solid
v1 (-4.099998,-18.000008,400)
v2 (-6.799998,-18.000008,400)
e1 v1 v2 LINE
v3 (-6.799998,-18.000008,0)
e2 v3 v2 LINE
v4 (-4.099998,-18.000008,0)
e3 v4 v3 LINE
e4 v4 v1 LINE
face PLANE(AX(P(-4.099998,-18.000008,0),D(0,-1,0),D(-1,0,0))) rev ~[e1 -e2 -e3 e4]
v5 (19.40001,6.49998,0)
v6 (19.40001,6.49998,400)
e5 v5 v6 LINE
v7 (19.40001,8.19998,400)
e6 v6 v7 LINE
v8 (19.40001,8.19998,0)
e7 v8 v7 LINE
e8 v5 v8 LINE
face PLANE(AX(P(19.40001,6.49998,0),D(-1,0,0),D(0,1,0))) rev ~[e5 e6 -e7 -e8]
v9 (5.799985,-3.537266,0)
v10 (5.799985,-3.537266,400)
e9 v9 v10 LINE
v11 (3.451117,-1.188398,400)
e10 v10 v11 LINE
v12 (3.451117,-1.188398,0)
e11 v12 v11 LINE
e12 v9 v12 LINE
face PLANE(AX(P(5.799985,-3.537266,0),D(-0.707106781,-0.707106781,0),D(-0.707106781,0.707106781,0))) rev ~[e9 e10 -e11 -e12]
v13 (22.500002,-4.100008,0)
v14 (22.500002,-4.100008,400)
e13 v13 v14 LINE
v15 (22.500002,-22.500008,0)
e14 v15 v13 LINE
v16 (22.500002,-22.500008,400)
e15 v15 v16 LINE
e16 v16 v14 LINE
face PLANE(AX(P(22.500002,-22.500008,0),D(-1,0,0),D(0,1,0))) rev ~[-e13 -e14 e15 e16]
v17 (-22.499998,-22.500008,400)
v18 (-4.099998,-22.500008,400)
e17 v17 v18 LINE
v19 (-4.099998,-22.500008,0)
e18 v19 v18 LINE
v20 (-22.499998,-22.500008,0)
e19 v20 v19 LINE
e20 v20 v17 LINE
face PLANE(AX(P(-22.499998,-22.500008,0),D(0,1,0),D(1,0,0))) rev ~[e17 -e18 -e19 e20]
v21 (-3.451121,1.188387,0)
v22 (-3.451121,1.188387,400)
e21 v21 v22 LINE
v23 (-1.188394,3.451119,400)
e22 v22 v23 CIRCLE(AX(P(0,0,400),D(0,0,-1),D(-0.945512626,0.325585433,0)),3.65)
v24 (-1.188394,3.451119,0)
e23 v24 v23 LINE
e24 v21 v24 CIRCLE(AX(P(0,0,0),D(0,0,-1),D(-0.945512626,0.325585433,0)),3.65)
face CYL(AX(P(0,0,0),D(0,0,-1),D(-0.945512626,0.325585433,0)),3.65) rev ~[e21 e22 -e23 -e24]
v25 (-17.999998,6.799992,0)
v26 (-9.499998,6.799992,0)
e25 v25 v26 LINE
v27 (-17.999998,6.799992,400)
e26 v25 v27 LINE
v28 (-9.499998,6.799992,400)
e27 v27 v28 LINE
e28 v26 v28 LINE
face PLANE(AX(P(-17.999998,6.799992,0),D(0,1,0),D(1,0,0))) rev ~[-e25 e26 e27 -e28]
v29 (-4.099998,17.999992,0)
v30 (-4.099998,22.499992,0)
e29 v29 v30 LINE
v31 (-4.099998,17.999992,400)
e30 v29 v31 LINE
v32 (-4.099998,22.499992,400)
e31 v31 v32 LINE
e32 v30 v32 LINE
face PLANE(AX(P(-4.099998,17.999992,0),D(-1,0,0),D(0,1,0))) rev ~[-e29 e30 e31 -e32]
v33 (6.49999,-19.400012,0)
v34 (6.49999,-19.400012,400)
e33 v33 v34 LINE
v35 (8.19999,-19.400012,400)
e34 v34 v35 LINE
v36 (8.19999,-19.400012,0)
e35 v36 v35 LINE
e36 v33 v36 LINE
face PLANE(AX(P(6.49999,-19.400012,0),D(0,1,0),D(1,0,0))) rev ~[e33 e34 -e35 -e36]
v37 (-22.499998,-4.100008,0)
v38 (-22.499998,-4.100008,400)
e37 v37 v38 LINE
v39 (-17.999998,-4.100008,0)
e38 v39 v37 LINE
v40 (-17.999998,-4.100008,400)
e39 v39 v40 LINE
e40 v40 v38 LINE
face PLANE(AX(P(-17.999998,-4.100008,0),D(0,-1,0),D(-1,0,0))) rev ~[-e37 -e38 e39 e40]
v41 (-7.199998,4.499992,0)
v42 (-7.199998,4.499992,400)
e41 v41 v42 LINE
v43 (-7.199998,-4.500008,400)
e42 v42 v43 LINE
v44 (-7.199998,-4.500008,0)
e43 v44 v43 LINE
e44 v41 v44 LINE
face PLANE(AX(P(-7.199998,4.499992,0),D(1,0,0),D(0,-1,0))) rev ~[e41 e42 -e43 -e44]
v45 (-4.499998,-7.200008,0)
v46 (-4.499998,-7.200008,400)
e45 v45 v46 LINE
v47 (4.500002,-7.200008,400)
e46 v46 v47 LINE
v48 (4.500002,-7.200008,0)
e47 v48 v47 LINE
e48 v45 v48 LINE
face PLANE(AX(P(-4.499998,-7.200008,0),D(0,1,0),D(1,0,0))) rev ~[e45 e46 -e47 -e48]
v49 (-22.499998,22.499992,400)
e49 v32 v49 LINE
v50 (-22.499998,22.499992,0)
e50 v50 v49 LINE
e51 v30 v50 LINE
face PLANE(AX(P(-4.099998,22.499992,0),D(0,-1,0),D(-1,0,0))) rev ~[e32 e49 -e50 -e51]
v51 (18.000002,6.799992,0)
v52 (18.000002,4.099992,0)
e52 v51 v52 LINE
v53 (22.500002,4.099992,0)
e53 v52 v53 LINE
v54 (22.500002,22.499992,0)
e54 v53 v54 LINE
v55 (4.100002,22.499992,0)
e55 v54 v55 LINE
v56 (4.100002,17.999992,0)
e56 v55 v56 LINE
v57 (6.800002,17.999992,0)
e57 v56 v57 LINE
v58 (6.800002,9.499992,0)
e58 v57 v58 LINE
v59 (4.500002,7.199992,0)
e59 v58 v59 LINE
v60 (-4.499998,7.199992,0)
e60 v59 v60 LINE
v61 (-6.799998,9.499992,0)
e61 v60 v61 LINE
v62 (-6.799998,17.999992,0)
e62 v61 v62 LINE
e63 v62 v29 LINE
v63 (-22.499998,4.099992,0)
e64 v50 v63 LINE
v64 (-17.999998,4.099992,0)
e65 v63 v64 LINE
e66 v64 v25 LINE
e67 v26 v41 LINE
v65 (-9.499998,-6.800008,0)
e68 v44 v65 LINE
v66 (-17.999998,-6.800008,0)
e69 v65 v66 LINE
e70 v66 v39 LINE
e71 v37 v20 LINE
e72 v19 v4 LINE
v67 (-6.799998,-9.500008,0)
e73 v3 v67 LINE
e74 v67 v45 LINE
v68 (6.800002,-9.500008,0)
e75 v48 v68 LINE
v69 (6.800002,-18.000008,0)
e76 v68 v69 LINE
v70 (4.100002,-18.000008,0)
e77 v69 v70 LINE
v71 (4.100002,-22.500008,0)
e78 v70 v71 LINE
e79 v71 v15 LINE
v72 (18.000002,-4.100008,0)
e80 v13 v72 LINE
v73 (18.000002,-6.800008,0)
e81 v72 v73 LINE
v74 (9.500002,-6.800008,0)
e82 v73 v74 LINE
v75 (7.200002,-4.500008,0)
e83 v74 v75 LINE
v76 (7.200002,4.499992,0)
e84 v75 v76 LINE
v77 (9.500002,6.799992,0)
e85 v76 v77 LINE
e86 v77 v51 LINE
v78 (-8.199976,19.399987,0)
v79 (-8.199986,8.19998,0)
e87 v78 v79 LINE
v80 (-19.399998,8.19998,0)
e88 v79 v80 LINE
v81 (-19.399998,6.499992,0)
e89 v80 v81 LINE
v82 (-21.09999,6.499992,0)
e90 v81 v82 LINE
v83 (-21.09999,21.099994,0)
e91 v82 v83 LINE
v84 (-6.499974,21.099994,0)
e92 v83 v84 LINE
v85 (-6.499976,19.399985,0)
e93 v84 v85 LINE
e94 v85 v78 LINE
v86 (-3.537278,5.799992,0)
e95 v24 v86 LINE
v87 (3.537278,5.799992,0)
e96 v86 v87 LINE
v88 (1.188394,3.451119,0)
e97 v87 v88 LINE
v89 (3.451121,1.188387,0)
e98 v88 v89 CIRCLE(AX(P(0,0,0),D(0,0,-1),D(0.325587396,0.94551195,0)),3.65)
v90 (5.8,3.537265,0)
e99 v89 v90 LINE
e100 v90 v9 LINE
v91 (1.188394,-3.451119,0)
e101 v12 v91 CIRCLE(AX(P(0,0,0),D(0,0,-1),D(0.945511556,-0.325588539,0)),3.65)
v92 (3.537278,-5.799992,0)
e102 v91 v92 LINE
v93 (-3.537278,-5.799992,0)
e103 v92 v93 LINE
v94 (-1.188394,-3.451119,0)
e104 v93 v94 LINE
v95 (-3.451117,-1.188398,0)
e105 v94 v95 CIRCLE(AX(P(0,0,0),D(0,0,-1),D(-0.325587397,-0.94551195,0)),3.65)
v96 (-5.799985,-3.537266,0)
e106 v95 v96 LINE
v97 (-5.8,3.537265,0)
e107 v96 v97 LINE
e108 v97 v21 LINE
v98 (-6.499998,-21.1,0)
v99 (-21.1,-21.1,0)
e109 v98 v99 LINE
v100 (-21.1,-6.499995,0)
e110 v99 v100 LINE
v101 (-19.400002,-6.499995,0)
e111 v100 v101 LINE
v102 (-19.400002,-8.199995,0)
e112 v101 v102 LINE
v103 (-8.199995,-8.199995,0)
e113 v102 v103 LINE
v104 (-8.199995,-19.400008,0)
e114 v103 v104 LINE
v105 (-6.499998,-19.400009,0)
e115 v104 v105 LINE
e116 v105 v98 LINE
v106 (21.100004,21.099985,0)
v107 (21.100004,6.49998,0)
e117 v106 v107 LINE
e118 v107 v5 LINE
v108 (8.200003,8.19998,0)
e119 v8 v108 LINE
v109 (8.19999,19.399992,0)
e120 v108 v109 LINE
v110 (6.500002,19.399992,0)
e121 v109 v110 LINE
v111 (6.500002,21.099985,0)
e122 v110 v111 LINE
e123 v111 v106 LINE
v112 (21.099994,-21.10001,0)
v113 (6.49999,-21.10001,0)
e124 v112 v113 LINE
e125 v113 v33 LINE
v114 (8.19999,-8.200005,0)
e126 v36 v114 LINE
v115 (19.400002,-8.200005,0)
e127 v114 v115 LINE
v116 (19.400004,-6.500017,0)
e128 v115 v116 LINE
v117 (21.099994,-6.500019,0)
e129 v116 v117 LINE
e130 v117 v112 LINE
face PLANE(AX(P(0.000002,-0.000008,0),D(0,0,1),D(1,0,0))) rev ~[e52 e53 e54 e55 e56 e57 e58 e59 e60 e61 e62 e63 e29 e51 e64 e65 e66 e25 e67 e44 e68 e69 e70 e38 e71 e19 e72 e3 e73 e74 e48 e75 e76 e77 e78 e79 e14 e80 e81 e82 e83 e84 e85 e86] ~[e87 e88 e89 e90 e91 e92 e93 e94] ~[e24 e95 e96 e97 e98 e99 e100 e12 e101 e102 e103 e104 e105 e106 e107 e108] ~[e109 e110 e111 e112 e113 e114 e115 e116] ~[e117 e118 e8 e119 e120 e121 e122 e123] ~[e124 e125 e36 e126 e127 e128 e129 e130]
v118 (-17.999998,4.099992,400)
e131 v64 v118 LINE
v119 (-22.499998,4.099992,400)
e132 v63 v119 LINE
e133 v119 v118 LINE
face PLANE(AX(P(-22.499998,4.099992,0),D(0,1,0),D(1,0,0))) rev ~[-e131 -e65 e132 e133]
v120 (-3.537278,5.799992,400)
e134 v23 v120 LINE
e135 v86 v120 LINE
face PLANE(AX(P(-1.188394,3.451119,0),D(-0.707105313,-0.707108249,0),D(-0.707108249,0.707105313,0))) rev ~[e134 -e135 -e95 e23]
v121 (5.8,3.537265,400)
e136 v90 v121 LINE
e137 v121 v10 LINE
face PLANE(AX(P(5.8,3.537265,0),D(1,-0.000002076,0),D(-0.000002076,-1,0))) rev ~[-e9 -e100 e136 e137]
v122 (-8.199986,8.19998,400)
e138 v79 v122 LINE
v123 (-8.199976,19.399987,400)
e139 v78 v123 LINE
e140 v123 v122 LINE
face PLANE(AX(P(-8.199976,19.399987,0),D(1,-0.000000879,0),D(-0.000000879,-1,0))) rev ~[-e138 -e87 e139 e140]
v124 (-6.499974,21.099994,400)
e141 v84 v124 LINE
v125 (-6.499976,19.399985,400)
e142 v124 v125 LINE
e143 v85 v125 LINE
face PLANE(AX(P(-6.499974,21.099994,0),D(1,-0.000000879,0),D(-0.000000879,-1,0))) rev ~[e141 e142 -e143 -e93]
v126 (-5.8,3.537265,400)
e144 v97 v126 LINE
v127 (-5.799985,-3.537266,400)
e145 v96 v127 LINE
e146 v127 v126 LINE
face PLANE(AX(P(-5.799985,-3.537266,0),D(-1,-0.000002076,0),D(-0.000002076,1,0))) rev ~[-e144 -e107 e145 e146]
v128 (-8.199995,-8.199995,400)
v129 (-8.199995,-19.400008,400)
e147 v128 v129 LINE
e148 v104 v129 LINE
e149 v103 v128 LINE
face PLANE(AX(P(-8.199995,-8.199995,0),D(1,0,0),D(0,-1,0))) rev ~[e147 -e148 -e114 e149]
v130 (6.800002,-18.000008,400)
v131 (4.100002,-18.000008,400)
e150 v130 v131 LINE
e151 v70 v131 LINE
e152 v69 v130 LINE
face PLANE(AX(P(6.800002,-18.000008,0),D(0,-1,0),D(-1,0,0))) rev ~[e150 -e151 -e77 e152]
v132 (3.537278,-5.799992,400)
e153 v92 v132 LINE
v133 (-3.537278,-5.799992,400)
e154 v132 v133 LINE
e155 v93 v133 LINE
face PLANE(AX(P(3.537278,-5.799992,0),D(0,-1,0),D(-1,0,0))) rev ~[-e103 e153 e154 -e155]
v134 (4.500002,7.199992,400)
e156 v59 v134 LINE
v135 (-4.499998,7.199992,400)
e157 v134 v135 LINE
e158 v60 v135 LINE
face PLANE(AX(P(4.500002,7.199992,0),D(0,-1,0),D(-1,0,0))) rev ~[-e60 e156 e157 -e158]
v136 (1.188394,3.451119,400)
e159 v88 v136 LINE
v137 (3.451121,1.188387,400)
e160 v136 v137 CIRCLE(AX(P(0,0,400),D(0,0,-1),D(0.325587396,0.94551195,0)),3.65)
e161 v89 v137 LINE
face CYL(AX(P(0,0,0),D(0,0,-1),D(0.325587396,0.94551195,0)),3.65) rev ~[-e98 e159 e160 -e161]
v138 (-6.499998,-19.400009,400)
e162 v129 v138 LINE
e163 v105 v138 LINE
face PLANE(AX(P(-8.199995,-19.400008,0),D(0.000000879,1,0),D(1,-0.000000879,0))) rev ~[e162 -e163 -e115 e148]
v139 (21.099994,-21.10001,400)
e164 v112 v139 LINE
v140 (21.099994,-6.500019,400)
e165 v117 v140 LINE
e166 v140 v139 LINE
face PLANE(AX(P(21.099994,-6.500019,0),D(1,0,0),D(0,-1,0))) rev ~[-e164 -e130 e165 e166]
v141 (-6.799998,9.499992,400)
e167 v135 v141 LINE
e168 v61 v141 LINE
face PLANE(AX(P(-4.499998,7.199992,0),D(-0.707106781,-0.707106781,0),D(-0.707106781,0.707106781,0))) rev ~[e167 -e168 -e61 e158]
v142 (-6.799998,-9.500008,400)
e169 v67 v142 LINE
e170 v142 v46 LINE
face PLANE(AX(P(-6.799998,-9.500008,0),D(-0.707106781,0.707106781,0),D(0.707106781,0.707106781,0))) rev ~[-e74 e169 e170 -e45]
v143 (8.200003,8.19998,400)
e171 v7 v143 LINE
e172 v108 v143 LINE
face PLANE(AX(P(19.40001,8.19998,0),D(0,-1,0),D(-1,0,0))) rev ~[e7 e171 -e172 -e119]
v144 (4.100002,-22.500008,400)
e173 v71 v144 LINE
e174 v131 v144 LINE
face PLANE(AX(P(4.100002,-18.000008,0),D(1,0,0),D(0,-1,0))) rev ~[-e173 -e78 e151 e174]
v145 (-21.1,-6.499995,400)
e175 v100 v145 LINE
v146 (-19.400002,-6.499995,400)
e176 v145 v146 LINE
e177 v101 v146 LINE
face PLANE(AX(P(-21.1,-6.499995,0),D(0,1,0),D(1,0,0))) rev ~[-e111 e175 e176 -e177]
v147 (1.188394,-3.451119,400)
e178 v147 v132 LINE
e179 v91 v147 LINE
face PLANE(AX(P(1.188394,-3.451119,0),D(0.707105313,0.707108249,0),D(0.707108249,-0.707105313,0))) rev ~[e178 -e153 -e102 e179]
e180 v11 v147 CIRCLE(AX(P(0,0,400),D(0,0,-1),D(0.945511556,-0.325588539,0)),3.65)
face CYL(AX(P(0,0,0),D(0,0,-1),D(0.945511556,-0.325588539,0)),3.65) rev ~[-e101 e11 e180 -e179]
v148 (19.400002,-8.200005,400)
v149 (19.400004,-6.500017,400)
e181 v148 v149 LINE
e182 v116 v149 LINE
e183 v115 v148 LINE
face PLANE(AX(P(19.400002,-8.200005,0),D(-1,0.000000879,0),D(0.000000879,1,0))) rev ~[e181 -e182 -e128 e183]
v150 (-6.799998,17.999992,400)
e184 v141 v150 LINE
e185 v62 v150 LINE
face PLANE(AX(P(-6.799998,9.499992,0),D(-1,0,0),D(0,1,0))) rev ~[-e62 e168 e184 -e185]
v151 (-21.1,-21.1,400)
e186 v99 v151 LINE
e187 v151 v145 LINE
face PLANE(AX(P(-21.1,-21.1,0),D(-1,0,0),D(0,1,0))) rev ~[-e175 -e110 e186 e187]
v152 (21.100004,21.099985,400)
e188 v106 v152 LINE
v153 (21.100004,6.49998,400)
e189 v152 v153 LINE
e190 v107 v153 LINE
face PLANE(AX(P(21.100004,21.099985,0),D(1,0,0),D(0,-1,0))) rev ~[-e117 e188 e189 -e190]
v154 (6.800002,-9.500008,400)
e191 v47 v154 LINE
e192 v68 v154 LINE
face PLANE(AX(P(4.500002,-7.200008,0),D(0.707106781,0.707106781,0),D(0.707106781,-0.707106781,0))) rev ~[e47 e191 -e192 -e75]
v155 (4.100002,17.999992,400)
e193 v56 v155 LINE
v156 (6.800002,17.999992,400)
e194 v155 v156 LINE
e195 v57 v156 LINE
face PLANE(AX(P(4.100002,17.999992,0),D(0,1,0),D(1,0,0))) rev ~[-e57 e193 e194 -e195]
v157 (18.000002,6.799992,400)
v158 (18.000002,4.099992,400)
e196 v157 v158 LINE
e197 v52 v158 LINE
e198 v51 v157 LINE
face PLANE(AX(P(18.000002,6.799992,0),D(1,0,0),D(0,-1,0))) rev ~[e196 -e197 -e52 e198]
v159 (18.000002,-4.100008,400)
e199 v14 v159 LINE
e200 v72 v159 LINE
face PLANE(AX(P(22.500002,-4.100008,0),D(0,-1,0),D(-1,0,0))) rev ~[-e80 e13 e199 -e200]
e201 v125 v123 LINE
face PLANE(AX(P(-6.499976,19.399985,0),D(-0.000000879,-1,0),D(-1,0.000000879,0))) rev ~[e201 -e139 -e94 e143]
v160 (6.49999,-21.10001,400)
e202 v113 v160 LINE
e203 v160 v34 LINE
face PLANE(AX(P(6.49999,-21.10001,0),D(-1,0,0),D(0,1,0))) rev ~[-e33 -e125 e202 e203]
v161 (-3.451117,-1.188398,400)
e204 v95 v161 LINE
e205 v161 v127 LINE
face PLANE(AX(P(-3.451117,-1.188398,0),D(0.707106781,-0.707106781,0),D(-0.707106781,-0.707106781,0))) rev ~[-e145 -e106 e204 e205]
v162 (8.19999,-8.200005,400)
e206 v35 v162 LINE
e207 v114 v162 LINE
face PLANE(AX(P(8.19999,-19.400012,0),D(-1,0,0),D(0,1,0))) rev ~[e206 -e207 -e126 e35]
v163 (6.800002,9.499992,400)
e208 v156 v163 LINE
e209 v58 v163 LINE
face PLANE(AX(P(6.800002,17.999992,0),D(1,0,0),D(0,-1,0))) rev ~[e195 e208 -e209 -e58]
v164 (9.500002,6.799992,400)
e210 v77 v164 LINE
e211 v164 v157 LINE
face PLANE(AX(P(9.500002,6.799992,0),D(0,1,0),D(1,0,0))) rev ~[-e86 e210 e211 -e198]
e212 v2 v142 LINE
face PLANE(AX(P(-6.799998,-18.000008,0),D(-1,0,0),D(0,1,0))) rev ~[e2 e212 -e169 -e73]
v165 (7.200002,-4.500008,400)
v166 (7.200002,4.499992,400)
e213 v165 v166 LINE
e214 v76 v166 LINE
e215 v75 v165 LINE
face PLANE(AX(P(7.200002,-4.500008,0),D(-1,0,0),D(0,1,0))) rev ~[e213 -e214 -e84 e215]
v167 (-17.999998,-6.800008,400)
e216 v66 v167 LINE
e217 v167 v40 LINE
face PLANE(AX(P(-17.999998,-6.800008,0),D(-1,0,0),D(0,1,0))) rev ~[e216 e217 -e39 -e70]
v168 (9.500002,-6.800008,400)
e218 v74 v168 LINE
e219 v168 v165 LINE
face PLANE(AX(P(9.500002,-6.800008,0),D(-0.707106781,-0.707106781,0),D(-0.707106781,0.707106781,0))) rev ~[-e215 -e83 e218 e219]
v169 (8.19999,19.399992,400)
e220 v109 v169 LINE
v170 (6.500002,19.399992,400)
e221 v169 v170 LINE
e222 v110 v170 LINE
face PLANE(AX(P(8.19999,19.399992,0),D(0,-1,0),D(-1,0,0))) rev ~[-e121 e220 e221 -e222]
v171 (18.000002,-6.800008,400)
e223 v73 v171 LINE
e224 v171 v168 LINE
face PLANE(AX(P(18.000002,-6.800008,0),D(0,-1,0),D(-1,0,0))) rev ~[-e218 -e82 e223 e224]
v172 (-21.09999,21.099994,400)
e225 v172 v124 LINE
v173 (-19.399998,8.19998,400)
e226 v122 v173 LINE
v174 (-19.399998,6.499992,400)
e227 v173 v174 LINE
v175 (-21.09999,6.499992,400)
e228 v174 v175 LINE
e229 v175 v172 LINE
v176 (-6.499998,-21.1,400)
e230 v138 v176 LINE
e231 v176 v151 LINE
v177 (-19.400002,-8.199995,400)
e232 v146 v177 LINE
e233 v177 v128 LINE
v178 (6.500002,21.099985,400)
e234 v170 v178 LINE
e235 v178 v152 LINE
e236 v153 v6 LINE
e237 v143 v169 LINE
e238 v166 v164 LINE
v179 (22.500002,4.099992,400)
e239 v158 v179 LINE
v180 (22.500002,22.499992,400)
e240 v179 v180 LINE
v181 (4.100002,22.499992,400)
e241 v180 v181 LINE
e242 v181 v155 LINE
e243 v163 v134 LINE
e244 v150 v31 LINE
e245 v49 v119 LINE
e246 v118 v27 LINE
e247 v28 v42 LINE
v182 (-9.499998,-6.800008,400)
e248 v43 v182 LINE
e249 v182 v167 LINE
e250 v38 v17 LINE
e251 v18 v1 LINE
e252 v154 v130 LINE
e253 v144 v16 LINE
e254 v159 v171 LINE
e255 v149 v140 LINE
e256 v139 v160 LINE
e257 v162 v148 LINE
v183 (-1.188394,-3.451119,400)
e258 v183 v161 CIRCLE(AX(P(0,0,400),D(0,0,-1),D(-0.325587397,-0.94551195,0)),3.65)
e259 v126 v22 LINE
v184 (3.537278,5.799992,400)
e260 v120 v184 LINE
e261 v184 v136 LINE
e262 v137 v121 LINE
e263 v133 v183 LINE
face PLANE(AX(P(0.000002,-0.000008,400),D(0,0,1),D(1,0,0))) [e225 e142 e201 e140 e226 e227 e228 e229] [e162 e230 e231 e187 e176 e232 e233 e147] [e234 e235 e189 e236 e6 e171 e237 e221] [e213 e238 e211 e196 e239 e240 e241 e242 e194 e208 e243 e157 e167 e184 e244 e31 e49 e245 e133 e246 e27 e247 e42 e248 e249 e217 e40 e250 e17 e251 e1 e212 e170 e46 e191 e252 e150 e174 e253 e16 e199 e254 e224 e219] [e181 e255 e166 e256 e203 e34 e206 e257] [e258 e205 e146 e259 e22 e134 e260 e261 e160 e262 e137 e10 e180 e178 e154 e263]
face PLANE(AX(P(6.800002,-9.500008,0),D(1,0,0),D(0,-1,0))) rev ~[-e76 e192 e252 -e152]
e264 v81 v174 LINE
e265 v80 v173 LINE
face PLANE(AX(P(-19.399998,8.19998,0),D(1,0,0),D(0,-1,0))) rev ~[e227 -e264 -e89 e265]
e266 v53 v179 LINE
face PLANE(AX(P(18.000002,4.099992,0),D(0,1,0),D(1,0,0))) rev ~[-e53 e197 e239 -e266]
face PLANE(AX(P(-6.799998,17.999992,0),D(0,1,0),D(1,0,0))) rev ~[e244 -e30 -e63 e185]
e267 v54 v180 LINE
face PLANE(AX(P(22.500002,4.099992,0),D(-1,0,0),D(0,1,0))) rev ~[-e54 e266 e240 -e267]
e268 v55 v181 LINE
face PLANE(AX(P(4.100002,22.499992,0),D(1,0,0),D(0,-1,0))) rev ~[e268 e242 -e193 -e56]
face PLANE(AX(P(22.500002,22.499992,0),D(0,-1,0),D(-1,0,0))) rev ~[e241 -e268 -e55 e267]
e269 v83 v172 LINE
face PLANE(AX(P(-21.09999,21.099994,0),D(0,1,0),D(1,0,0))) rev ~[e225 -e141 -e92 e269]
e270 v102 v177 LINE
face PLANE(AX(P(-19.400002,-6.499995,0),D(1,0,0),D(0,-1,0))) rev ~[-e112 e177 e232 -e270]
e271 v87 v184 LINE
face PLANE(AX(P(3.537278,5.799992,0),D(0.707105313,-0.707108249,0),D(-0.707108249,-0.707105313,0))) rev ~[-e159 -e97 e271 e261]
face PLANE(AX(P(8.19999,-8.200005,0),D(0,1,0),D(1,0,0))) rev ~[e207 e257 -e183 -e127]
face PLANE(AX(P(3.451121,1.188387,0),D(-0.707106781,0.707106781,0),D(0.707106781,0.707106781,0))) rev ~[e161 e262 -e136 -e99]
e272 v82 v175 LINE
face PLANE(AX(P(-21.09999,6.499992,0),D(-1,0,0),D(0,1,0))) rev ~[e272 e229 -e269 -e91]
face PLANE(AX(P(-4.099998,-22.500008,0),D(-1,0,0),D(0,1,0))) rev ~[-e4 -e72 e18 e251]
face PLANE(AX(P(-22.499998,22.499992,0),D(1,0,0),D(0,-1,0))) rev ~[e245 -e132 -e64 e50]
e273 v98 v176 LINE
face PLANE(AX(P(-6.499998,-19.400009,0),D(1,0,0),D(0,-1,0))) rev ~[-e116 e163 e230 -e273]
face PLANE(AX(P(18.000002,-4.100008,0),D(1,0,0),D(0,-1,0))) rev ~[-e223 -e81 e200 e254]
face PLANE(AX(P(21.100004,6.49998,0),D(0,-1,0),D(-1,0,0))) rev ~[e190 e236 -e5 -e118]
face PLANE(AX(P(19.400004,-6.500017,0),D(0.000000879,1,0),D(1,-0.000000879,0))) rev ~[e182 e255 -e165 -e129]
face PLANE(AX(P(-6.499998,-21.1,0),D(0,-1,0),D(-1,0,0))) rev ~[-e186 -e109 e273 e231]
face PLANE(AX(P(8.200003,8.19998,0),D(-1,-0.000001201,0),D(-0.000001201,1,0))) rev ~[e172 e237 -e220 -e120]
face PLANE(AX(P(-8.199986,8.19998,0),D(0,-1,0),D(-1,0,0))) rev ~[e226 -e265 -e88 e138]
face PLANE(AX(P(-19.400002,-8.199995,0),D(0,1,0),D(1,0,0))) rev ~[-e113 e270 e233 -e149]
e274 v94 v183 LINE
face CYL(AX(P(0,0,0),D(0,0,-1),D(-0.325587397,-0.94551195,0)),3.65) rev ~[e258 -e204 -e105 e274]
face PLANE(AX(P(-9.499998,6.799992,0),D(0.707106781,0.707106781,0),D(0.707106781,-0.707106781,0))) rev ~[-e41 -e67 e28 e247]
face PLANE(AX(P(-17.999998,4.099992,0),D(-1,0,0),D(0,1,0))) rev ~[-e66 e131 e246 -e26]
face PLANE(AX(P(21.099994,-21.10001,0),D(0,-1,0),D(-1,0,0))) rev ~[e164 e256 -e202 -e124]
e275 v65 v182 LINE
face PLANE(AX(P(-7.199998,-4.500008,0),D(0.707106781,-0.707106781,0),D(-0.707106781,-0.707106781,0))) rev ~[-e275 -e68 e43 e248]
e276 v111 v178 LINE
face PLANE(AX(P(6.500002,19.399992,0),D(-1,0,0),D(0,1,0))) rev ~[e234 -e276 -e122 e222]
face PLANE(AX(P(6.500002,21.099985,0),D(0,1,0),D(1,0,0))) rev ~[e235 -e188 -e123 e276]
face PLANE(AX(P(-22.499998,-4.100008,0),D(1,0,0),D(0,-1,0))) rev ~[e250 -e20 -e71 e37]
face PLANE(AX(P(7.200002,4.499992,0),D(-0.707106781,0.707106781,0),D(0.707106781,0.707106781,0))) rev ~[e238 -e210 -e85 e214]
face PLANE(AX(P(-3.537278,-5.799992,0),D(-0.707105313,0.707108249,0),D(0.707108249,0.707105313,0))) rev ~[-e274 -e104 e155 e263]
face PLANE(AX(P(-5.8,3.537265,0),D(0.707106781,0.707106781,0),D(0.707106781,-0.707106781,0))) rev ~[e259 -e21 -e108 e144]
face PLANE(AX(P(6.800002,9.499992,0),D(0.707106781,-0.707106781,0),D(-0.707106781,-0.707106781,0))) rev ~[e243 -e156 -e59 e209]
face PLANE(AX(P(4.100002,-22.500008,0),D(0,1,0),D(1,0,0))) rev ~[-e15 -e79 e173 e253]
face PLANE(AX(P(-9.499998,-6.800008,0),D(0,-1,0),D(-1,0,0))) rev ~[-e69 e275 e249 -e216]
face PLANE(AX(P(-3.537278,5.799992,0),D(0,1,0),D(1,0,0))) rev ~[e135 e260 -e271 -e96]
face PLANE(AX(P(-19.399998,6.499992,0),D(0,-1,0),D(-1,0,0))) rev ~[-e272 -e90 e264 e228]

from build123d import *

# Parameters (mm, degrees)
BOSS_EXTRUDE1_DEPTH = 400


with BuildPart() as part:
    # Sketch1 → Boss-Extrude1 (new body)
    with BuildSketch(Plane.XY):
        Polygon((-22.499997904, -22.500007621), (-4.099997904, -22.500007621), (-4.099997904, -18.000007621), (-6.799997904, -18.000007621), (-6.799997904, -9.500007621), (-4.499997904, -7.200007621), (4.500002096, -7.200007621), (6.800002096, -9.500007621), (6.800002096, -18.000007621), (4.100002096, -18.000007621), (4.100002096, -22.500007621), (22.500002096, -22.500007621), (22.500002096, -4.100007621), (18.000002096, -4.100007621), (18.000002096, -6.800007621), (9.500002096, -6.800007621), (7.200002096, -4.500007621), (7.200002096, 4.499992379), (9.500002096, 6.799992379), (18.000002096, 6.799992379), (18.000002096, 4.099992379), (22.500002096, 4.099992379), (22.500002096, 22.499992379), (4.100002096, 22.499992379), (4.100002096, 17.999992379), (6.800002096, 17.999992379), (6.800002096, 9.499992379), (4.500002096, 7.199992379), (-4.499997904, 7.199992379), (-6.799997904, 9.499992379), (-6.799997904, 17.999992379), (-4.099997904, 17.999992379), (-4.099997904, 22.499992379), (-22.499997904, 22.499992379), (-22.499997904, 4.099992379), (-17.999997904, 4.099992379), (-17.999997904, 6.799992379), (-9.499997904, 6.799992379), (-7.199997904, 4.499992379), (-7.199997904, -4.500007621), (-9.499997904, -6.800007621), (-17.999997904, -6.800007621), (-17.999997904, -4.100007621), (-22.499997904, -4.100007621), align=None)
        Polygon((8.200003223, 8.199980186), (8.199989777, 19.399992368), (6.500002085, 19.399992368), (6.500002085, 21.099984758), (21.100004192, 21.099984758), (21.100004192, 6.499980188), (19.400009891, 6.499980188), (19.400009891, 8.199980186), align=None, mode=Mode.SUBTRACT)
        Polygon((-19.399997893, 6.499992368), (-21.099990283, 6.499992368), (-21.099990283, 21.099994475), (-6.499974376, 21.099994475), (-6.49997587, 19.399985233), (-8.199975868, 19.399986727), (-8.199985712, 8.19998006), (-19.399997893, 8.19998006), align=None, mode=Mode.SUBTRACT)
        Polygon((-6.499997893, -21.1), (-21.1, -21.1), (-21.1, -6.499995431), (-19.400002096, -6.499995431), (-19.400002096, -8.199995429), (-8.199995429, -8.199995429), (-8.199995429, -19.40000761), (-6.499997893, -19.400009104), align=None, mode=Mode.SUBTRACT)
        Polygon((6.499989905, -19.400011813), (8.199989903, -19.400011813), (8.199989903, -8.200005146), (19.400002085, -8.200005146), (19.400003579, -6.500017454), (21.099994475, -6.500018948), (21.099994475, -21.100009717), (6.499989905, -21.100009717), align=None, mode=Mode.SUBTRACT)
        with BuildLine():
            Line((-5.799999723, 3.537265469), (-3.451121085, 1.18838683))
            ThreePointArc((-3.451121085, 1.18838683), (-2.580942431, 2.580937072), (-1.188393996, 3.451118617))
            Line((-1.188393996, 3.451118617), (-3.537277512, 5.799992379))
            Line((-3.537277512, 5.799992379), (3.537277512, 5.799992379))
            Line((3.537277512, 5.799992379), (1.188393996, 3.451118617))
            ThreePointArc((1.188393996, 3.451118617), (2.580942431, 2.580937072), (3.451121085, 1.18838683))
            Line((3.451121085, 1.18838683), (5.799999723, 3.537265469))
            Line((5.799999723, 3.537265469), (5.799985034, -3.537266022))
            Line((5.799985034, -3.537266022), (3.451117181, -1.188398168))
            ThreePointArc((3.451117181, -1.188398168), (2.580938191, -2.580941312), (1.188393996, -3.451118617))
            Line((1.188393996, -3.451118617), (3.537277512, -5.799992379))
            Line((3.537277512, -5.799992379), (-3.537277512, -5.799992379))
            Line((-3.537277512, -5.799992379), (-1.188393996, -3.451118617))
            ThreePointArc((-1.188393996, -3.451118617), (-2.580938191, -2.580941311), (-3.451117181, -1.188398168))
            Line((-3.451117181, -1.188398168), (-5.799985034, -3.537266022))
            Line((-5.799985034, -3.537266022), (-5.799999723, 3.537265469))
        make_face(mode=Mode.SUBTRACT)
    extrude(amount=BOSS_EXTRUDE1_DEPTH)


solid = part.part
